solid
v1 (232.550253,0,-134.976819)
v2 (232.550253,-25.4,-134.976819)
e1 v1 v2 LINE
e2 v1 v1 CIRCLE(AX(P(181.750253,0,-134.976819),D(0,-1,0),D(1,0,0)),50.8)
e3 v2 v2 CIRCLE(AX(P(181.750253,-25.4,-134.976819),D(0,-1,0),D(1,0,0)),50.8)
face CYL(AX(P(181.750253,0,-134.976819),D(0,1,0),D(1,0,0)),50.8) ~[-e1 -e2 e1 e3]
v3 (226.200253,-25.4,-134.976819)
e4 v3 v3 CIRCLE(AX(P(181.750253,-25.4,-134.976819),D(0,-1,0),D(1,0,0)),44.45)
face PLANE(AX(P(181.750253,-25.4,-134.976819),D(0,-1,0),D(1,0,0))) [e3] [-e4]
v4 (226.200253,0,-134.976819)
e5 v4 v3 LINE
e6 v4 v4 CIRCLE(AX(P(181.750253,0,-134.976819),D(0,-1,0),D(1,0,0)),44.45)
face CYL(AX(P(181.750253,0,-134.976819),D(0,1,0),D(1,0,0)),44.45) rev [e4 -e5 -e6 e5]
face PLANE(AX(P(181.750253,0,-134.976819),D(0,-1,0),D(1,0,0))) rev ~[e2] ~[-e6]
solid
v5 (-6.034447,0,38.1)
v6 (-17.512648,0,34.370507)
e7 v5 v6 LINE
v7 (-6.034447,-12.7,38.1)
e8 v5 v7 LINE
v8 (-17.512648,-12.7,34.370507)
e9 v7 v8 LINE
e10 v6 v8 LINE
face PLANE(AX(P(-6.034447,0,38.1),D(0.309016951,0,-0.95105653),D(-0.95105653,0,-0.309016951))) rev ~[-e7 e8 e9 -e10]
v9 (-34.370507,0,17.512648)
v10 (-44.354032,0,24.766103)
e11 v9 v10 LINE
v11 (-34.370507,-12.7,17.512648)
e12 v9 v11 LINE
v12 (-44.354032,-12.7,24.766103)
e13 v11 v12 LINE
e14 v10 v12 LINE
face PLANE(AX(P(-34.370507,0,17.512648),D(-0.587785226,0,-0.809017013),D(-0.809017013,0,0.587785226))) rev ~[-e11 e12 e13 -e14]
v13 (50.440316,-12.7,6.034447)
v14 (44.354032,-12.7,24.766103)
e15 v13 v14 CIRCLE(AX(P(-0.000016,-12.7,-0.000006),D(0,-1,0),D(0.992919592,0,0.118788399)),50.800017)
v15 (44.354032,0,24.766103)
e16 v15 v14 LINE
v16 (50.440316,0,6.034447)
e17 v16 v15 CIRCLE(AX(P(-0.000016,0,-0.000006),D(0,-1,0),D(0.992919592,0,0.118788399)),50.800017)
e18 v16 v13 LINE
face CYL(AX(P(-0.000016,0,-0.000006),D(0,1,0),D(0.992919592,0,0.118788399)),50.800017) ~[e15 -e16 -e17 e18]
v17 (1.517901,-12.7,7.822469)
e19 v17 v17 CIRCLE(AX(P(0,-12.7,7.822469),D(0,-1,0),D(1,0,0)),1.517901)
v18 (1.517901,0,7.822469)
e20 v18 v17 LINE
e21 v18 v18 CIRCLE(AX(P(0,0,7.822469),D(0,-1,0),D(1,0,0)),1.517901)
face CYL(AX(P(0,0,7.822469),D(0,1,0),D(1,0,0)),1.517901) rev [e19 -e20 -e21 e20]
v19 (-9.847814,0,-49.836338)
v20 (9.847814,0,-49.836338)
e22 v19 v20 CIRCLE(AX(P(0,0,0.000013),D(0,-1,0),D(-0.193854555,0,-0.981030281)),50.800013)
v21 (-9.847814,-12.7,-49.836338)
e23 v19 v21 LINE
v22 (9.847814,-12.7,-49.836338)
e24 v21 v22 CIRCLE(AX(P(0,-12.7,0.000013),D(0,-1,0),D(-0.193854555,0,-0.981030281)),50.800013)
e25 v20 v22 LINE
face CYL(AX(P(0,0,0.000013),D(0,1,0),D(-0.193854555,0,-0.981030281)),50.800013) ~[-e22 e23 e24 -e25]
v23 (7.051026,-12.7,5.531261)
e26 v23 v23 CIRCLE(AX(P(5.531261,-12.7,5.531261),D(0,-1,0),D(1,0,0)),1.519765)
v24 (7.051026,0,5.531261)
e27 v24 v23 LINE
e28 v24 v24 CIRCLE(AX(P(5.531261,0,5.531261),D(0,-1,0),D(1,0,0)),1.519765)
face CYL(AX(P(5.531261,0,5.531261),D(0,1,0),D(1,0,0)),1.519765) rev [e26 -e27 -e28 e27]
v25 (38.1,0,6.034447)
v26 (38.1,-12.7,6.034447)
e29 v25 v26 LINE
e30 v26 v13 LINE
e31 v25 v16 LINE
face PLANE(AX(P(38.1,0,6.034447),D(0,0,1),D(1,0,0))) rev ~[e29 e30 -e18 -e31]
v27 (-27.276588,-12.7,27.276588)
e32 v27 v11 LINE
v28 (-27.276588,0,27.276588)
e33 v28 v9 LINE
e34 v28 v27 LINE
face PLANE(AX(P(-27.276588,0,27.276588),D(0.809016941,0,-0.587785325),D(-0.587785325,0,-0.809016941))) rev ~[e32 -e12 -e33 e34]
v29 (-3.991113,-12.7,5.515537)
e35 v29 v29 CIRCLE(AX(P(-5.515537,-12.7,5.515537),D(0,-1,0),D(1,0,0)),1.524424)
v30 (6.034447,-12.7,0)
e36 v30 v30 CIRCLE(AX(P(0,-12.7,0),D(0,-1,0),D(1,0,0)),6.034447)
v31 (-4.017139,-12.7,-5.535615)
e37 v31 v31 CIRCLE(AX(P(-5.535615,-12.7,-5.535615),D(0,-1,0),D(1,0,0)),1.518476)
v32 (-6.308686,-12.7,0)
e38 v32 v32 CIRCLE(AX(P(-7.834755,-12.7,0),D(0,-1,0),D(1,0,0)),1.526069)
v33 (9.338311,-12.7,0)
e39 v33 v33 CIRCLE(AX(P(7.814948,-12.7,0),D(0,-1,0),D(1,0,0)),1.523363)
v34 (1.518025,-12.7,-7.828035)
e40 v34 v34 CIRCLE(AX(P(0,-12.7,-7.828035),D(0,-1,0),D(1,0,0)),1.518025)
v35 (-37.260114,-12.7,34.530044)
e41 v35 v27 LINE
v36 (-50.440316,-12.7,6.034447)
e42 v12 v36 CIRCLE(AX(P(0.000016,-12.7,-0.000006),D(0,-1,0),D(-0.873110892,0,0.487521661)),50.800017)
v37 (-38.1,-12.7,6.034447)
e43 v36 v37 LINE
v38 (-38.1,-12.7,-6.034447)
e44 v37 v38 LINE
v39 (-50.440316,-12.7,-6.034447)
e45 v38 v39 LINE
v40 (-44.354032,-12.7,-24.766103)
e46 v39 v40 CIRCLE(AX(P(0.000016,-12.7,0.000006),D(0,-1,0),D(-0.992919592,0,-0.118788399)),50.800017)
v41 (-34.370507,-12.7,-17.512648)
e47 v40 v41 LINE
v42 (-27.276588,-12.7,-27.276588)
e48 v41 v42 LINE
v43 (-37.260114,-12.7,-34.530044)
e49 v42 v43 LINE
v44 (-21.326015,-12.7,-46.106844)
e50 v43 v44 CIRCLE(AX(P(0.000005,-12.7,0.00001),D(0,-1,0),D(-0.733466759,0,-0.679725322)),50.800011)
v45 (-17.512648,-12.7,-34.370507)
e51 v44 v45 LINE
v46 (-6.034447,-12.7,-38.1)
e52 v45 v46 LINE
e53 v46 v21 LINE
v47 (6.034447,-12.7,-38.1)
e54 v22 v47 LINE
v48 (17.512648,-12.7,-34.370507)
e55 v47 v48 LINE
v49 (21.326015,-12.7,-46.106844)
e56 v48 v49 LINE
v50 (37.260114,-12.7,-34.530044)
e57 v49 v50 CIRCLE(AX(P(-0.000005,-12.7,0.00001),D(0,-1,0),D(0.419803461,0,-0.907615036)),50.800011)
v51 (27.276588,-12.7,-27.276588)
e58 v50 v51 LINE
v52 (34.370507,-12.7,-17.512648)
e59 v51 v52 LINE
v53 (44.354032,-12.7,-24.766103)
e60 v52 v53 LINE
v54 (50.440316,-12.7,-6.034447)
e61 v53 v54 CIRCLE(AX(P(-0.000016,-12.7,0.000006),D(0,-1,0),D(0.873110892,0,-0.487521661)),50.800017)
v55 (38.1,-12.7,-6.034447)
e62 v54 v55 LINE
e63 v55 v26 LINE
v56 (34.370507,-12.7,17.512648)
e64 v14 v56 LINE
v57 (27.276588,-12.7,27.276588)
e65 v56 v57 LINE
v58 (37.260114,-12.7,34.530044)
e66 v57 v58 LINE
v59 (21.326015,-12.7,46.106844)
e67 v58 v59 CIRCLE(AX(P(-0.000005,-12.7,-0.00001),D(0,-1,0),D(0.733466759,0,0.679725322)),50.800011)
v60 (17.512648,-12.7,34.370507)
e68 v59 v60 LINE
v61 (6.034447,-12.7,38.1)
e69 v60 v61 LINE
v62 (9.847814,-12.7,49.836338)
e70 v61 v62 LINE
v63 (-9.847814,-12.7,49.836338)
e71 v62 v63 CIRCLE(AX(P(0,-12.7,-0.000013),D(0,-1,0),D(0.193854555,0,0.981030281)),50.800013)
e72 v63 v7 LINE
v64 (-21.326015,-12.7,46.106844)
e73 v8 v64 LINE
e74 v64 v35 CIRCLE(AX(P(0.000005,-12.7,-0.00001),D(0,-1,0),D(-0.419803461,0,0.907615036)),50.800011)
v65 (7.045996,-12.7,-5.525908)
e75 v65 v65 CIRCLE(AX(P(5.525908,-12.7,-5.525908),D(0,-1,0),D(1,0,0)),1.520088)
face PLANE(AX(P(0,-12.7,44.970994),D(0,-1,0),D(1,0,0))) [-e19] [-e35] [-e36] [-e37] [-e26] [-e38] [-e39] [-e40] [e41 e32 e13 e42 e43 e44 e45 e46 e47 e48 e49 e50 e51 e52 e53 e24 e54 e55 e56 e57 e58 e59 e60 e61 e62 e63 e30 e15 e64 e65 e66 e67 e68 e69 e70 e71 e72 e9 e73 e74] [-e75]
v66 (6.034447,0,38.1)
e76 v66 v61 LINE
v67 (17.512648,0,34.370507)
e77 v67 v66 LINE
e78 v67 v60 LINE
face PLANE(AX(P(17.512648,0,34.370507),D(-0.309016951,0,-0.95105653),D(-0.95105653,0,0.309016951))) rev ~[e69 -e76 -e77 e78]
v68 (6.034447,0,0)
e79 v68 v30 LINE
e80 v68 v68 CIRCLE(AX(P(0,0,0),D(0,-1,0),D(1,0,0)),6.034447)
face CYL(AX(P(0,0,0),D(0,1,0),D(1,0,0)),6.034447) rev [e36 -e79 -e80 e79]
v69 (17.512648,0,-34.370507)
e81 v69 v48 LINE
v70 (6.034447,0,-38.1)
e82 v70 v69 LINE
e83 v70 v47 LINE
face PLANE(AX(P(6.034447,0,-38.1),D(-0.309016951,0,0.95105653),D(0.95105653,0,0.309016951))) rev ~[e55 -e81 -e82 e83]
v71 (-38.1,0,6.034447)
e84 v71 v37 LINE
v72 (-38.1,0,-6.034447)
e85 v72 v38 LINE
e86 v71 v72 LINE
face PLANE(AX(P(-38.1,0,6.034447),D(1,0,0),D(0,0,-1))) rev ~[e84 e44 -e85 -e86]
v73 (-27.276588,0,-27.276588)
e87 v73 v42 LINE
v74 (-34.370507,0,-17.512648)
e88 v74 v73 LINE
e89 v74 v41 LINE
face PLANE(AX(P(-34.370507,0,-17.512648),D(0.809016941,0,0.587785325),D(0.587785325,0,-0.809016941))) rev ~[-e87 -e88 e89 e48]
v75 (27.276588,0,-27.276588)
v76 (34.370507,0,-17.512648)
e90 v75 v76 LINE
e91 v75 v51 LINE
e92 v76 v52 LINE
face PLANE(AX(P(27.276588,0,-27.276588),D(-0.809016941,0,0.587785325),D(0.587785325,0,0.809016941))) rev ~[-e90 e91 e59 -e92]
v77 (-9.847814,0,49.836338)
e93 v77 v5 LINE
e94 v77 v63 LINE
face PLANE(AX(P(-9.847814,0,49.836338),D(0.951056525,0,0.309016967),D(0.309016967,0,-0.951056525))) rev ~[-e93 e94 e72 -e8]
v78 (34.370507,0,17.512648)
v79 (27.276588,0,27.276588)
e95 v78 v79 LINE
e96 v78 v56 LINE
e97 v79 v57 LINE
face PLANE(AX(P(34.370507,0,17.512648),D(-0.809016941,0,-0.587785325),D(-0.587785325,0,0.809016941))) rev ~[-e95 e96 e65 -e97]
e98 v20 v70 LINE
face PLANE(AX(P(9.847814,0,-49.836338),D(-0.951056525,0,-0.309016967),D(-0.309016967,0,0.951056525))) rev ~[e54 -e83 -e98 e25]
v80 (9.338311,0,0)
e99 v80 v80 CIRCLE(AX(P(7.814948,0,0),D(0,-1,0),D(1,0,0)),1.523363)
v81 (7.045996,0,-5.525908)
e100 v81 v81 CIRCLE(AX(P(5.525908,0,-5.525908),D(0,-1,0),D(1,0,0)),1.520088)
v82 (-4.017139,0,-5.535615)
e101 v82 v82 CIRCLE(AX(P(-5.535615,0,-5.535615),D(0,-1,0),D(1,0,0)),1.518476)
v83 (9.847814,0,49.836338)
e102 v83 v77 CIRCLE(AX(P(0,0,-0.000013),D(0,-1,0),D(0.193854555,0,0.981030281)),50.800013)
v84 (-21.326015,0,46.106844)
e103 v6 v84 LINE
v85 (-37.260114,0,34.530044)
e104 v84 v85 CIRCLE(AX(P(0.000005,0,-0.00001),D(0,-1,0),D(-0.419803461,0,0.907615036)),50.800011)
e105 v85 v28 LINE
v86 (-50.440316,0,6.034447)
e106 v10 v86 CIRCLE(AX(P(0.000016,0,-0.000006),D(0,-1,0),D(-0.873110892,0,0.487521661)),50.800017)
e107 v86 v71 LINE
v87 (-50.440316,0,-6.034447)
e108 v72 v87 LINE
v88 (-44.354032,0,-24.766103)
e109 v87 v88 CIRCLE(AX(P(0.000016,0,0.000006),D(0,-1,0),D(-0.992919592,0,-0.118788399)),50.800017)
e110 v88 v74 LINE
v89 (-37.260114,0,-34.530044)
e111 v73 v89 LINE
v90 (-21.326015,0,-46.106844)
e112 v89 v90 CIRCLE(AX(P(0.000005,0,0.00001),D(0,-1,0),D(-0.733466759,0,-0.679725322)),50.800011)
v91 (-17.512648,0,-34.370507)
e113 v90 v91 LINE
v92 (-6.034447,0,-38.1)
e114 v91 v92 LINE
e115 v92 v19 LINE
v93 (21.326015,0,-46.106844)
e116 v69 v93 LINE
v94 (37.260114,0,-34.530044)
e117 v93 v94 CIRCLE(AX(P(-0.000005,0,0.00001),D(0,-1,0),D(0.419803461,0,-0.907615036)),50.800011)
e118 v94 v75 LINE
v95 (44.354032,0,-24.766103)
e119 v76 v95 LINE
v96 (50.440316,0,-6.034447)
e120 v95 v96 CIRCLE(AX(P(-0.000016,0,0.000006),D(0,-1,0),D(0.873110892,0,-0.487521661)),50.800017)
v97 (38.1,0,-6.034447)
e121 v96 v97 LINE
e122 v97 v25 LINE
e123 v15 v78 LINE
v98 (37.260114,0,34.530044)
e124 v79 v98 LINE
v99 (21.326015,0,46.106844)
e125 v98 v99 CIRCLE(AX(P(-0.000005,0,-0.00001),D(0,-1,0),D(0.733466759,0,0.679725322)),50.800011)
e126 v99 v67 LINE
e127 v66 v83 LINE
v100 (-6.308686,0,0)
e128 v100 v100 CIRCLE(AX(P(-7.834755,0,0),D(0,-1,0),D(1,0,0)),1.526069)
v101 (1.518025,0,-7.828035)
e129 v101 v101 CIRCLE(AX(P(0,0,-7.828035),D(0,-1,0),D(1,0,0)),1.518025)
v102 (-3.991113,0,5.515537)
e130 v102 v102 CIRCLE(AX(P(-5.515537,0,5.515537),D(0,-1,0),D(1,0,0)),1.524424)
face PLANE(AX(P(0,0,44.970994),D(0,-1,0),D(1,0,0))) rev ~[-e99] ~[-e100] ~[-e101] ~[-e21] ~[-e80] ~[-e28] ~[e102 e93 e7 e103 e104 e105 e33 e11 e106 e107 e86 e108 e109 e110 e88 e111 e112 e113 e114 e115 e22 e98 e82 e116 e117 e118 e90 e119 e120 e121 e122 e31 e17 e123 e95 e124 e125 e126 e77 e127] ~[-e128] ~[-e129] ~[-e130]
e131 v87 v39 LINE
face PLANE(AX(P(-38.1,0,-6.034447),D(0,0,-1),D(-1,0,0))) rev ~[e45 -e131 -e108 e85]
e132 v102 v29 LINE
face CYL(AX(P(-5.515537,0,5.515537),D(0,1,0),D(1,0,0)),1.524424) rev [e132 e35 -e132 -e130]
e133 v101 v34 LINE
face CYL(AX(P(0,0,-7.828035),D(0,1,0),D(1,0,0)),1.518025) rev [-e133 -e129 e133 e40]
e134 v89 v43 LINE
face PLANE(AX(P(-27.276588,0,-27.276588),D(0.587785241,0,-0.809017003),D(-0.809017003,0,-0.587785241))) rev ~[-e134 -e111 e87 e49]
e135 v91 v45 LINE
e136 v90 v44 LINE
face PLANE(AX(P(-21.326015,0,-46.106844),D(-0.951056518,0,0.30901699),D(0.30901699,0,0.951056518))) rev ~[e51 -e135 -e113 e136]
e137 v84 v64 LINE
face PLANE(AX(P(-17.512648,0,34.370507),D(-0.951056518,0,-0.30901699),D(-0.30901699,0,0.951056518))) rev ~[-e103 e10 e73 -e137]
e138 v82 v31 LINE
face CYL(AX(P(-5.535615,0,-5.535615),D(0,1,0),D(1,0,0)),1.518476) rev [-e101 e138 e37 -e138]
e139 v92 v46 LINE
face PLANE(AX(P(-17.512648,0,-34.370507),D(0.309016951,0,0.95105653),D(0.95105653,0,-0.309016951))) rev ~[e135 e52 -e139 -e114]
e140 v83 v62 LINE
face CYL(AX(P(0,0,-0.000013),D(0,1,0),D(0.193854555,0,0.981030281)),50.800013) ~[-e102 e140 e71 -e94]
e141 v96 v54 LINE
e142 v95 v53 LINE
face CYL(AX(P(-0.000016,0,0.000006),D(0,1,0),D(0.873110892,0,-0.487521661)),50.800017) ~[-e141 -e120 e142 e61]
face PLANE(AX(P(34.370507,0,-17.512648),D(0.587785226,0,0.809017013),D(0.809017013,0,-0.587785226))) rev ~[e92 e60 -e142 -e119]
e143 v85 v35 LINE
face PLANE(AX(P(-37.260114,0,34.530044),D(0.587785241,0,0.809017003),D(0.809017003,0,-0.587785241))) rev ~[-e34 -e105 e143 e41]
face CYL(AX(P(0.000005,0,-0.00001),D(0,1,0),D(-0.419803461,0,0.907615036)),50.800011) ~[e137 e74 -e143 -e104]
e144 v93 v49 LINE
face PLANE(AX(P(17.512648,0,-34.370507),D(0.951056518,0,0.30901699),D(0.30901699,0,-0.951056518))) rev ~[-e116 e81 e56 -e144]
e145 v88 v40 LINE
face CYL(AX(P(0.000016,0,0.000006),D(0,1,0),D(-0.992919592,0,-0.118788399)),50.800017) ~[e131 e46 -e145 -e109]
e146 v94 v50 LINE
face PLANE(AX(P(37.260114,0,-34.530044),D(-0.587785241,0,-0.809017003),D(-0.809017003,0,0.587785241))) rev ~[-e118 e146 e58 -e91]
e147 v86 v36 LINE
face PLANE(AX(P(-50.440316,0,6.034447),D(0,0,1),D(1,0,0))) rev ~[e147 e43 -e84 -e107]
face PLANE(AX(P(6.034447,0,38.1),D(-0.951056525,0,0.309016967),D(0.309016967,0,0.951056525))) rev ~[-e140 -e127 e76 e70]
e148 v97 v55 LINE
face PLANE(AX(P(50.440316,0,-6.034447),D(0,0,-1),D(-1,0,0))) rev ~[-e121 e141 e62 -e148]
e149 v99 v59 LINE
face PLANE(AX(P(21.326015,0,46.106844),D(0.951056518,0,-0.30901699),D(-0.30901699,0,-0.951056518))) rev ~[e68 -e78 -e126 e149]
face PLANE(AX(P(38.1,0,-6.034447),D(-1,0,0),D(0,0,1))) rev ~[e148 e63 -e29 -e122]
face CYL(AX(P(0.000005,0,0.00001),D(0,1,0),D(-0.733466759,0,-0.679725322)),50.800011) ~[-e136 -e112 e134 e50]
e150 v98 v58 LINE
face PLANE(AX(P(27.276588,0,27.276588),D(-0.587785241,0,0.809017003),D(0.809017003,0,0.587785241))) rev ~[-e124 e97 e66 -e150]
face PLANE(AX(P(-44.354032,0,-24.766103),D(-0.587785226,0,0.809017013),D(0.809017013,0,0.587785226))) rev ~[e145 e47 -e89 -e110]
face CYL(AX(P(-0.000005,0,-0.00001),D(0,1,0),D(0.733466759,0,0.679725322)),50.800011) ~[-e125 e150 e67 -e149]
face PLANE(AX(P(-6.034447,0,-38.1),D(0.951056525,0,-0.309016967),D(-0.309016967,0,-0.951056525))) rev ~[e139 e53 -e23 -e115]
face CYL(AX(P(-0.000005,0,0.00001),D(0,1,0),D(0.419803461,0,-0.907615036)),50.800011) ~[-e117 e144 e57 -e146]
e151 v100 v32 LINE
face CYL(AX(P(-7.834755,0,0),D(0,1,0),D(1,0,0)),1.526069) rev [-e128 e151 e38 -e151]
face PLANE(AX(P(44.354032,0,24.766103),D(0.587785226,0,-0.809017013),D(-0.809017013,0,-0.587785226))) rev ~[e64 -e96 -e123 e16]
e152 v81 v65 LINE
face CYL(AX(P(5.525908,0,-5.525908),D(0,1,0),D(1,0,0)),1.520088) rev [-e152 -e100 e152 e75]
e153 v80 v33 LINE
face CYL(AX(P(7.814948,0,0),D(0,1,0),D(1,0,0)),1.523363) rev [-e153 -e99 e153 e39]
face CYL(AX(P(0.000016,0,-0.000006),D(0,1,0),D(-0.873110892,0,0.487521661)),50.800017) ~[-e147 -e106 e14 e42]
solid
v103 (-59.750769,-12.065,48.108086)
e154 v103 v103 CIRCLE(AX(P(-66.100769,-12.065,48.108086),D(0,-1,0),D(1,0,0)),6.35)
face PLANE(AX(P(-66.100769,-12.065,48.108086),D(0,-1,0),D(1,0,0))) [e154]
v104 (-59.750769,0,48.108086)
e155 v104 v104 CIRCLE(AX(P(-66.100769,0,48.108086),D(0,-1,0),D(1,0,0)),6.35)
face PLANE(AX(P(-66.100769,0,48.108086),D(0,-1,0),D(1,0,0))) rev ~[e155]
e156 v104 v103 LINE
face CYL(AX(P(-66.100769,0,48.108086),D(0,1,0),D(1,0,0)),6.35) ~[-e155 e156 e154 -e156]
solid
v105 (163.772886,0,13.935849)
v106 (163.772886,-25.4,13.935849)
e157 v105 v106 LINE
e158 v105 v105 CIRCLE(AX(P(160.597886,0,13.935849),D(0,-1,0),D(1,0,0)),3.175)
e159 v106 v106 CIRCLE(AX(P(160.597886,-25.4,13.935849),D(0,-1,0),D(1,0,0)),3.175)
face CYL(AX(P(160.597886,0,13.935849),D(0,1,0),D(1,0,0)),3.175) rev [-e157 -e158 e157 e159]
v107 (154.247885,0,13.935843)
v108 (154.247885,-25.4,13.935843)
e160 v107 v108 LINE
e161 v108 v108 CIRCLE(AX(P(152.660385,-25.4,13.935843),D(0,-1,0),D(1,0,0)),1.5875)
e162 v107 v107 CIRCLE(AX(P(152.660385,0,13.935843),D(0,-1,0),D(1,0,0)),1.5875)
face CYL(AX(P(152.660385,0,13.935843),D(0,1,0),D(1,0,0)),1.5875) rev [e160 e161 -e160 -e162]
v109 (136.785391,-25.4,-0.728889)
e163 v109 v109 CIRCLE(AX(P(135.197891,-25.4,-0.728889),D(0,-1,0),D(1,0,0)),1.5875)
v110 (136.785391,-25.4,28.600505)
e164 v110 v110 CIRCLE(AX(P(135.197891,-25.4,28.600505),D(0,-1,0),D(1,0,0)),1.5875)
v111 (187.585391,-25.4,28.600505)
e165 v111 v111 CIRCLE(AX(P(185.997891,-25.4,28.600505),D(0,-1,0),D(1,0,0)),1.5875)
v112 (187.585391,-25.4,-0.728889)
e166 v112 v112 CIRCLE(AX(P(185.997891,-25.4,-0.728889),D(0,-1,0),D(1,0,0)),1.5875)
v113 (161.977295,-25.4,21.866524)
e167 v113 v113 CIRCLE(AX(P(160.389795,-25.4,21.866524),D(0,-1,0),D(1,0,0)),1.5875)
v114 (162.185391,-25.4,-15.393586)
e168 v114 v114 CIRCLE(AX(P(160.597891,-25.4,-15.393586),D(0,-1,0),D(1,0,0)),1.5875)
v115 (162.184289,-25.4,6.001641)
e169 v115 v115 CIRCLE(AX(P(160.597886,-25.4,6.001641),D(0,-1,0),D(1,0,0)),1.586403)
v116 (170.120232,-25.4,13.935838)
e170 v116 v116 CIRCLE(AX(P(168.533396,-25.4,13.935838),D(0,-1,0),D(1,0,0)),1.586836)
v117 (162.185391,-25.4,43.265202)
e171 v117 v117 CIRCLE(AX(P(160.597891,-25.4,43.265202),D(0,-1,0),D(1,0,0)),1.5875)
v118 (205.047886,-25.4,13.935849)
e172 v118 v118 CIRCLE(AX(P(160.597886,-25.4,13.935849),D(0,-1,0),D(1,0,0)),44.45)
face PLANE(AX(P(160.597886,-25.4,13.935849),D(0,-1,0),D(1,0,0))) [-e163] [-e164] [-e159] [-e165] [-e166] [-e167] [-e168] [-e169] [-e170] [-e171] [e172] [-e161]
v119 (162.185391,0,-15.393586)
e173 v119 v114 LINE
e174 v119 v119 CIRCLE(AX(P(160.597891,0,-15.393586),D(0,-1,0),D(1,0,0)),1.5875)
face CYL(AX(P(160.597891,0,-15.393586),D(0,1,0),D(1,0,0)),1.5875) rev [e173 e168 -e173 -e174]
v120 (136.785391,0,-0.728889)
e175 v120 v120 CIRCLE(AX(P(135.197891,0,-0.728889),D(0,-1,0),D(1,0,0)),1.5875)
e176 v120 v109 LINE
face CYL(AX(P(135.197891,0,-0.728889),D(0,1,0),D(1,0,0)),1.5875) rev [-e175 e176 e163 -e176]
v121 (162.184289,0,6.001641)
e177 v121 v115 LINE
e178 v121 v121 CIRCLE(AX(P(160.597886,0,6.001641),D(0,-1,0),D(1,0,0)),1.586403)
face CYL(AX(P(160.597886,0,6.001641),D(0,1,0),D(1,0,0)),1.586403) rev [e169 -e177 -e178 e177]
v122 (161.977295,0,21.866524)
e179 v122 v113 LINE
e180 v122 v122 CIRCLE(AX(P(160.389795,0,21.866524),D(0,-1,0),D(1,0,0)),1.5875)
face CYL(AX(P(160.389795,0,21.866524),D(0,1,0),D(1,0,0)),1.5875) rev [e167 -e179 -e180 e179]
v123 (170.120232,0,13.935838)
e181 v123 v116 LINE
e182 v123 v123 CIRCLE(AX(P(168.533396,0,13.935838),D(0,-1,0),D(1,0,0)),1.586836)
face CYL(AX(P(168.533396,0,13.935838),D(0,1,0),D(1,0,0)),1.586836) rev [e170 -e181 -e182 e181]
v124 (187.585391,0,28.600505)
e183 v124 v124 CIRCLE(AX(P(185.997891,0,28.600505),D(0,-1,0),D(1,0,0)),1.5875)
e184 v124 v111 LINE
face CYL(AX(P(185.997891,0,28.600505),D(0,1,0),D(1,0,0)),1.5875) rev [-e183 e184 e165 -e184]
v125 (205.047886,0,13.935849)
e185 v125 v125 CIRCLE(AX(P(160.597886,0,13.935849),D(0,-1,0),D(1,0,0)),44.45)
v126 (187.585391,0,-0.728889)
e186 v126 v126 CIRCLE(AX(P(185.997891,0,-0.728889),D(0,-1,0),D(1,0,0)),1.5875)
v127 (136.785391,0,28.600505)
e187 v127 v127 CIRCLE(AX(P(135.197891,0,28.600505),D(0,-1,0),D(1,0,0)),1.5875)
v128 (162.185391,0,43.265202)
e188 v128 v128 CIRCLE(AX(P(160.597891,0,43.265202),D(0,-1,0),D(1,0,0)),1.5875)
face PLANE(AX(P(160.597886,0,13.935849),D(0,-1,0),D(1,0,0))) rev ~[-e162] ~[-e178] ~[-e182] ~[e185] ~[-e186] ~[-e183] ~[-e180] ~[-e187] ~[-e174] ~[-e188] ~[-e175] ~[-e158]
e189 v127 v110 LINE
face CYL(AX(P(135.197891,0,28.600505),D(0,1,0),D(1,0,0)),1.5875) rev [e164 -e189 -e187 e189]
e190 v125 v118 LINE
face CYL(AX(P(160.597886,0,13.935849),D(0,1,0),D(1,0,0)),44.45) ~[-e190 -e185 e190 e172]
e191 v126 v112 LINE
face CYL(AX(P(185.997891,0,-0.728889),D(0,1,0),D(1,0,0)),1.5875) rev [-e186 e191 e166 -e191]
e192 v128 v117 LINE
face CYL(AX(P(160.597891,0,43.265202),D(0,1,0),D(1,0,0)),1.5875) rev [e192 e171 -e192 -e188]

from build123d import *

# Parameters (mm, degrees)
F0_R     = 1.526069
F0_R_2   = 1.518476
F0_R_3   = 1.518025
F0_R_4   = 1.520088
F0_R_5   = 6.034447
F0_R_6   = 1.523363
F0_R_7   = 1.524424
F0_R_8   = 1.519765
F0_R_9   = 1.517901
F1_DEPTH = 12.7
F2_R     = 6.35
F3_DEPTH = 12.065
F4_R     = 44.45
F4_R_2   = 1.5875
F4_R_3   = 1.586403
F4_R_4   = 1.586836
F4_R_5   = 3.175
F5_DEPTH = 25.4
F6_R     = 50.8
F6_R_2   = 44.45
F7_DEPTH = 25.4


with BuildPart() as f1:
    # F0 (on Front) → F1 (new body)
    with BuildSketch(Plane.XZ):
        with BuildLine():
            Line((-9.847814, 49.836338), (-6.034447, 38.1))
            Line((-6.034447, 38.1), (6.034447, 38.1))
            Line((6.034447, 38.1), (9.847814, 49.836338))
            ThreePointArc((9.847814, 49.836338), (0, 50.8), (-9.847814, 49.836338))
        make_face()
        Polygon((6.034447, 38.1), (-6.034447, 38.1), (-17.512648, 34.370507), (-27.276588, 27.276588), (-34.370507, 17.512648), (-38.1, 6.034447), (-38.1, -6.034447), (-34.370507, -17.512648), (-27.276588, -27.276588), (-17.512648, -34.370507), (-6.034447, -38.1), (6.034447, -38.1), (17.512648, -34.370507), (27.276588, -27.276588), (34.370507, -17.512648), (38.1, -6.034447), (38.1, 6.034447), (34.370507, 17.512648), (27.276588, 27.276588), (17.512648, 34.370507), align=None)
        with Locations((-7.834755, 0)):
            Circle(F0_R, mode=Mode.SUBTRACT)
        with Locations((-5.535615, -5.535615)):
            Circle(F0_R_2, mode=Mode.SUBTRACT)
        with Locations((0, -7.828035)):
            Circle(F0_R_3, mode=Mode.SUBTRACT)
        with Locations((5.525908, -5.525908)):
            Circle(F0_R_4, mode=Mode.SUBTRACT)
        Circle(F0_R_5, mode=Mode.SUBTRACT)
        with Locations((7.814948, 0)):
            Circle(F0_R_6, mode=Mode.SUBTRACT)
        with Locations((-5.515537, 5.515537)):
            Circle(F0_R_7, mode=Mode.SUBTRACT)
        with Locations((5.531261, 5.531261)):
            Circle(F0_R_8, mode=Mode.SUBTRACT)
        with Locations((0, 7.822469)):
            Circle(F0_R_9, mode=Mode.SUBTRACT)
        with BuildLine():
            Line((-27.276588, 27.276588), (-17.512648, 34.370507))
            Line((-17.512648, 34.370507), (-21.326015, 46.106844))
            ThreePointArc((-21.326015, 46.106844), (-29.859491, 41.098063), (-37.260114, 34.530044))
            Line((-37.260114, 34.530044), (-27.276588, 27.276588))
        make_face()
        with BuildLine():
            Line((21.326015, 46.106844), (17.512648, 34.370507))
            Line((17.512648, 34.370507), (27.276588, 27.276588))
            Line((27.276588, 27.276588), (37.260114, 34.530044))
            ThreePointArc((37.260114, 34.530044), (29.859491, 41.098063), (21.326015, 46.106844))
        make_face()
        with BuildLine():
            Line((-38.1, 6.034447), (-34.370507, 17.512648))
            Line((-34.370507, 17.512648), (-44.354032, 24.766103))
            ThreePointArc((-44.354032, 24.766103), (-48.313671, 15.698063), (-50.440316, 6.034447))
            Line((-50.440316, 6.034447), (-38.1, 6.034447))
        make_face()
        with BuildLine():
            Line((44.354032, 24.766103), (34.370507, 17.512648))
            Line((34.370507, 17.512648), (38.1, 6.034447))
            Line((38.1, 6.034447), (50.440316, 6.034447))
            ThreePointArc((50.440316, 6.034447), (48.313671, 15.698063), (44.354032, 24.766103))
        make_face()
        with BuildLine():
            Line((-34.370507, -17.512648), (-38.1, -6.034447))
            Line((-38.1, -6.034447), (-50.440316, -6.034447))
            ThreePointArc((-50.440316, -6.034447), (-48.313671, -15.698063), (-44.354032, -24.766103))
            Line((-44.354032, -24.766103), (-34.370507, -17.512648))
        make_face()
        with BuildLine():
            Line((50.440316, -6.034447), (38.1, -6.034447))
            Line((38.1, -6.034447), (34.370507, -17.512648))
            Line((34.370507, -17.512648), (44.354032, -24.766103))
            ThreePointArc((44.354032, -24.766103), (48.313671, -15.698063), (50.440316, -6.034447))
        make_face()
        with BuildLine():
            Line((-17.512648, -34.370507), (-27.276588, -27.276588))
            Line((-27.276588, -27.276588), (-37.260114, -34.530044))
            ThreePointArc((-37.260114, -34.530044), (-29.859491, -41.098063), (-21.326015, -46.106844))
            Line((-21.326015, -46.106844), (-17.512648, -34.370507))
        make_face()
        with BuildLine():
            Line((37.260114, -34.530044), (27.276588, -27.276588))
            Line((27.276588, -27.276588), (17.512648, -34.370507))
            Line((17.512648, -34.370507), (21.326015, -46.106844))
            ThreePointArc((21.326015, -46.106844), (29.859491, -41.098063), (37.260114, -34.530044))
        make_face()
        with BuildLine():
            Line((6.034447, -38.1), (-6.034447, -38.1))
            Line((-6.034447, -38.1), (-9.847814, -49.836338))
            ThreePointArc((-9.847814, -49.836338), (0, -50.8), (9.847814, -49.836338))
            Line((9.847814, -49.836338), (6.034447, -38.1))
        make_face()
    extrude(amount=F1_DEPTH)


with BuildPart() as f3:
    # F2 (on Front) → F3 (new body)
    with BuildSketch(Plane.XZ):
        with Locations((-66.100769, 48.108086)):
            Circle(F2_R)
    extrude(amount=F3_DEPTH)


with BuildPart() as f5:
    # F4 (on Front) → F5 (new body)
    with BuildSketch(Plane.XZ):
        with Locations((160.597886, 13.935849)):
            Circle(F4_R)
        with Locations((135.197891, -0.728889)):
            Circle(F4_R_2, mode=Mode.SUBTRACT)
        with Locations((160.597886, 6.001641)):
            Circle(F4_R_3, mode=Mode.SUBTRACT)
        with Locations((152.660385, 13.935843)):
            Circle(F4_R_2, mode=Mode.SUBTRACT)
        with Locations((160.597891, -15.393586)):
            Circle(F4_R_2, mode=Mode.SUBTRACT)
        with Locations((168.533396, 13.935838)):
            Circle(F4_R_4, mode=Mode.SUBTRACT)
        with Locations((185.997891, -0.728889)):
            Circle(F4_R_2, mode=Mode.SUBTRACT)
        with Locations((135.197891, 28.600505)):
            Circle(F4_R_2, mode=Mode.SUBTRACT)
        with Locations((160.389795, 21.866524)):
            Circle(F4_R_2, mode=Mode.SUBTRACT)
        with Locations((160.597886, 13.935849)):
            Circle(F4_R_5, mode=Mode.SUBTRACT)
        with Locations((185.997891, 28.600505)):
            Circle(F4_R_2, mode=Mode.SUBTRACT)
        with Locations((160.597891, 43.265202)):
            Circle(F4_R_2, mode=Mode.SUBTRACT)
    extrude(amount=F5_DEPTH)


with BuildPart() as f7:
    # F6 (on Front) → F7 (new body)
    with BuildSketch(Plane.XZ):
        with Locations((181.750253, -134.976819)):
            Circle(F6_R)
        with Locations((181.750253, -134.976819)):
            Circle(F6_R_2, mode=Mode.SUBTRACT)
    extrude(amount=F7_DEPTH)


solid = Compound([f1.part, f3.part, f5.part, f7.part])
